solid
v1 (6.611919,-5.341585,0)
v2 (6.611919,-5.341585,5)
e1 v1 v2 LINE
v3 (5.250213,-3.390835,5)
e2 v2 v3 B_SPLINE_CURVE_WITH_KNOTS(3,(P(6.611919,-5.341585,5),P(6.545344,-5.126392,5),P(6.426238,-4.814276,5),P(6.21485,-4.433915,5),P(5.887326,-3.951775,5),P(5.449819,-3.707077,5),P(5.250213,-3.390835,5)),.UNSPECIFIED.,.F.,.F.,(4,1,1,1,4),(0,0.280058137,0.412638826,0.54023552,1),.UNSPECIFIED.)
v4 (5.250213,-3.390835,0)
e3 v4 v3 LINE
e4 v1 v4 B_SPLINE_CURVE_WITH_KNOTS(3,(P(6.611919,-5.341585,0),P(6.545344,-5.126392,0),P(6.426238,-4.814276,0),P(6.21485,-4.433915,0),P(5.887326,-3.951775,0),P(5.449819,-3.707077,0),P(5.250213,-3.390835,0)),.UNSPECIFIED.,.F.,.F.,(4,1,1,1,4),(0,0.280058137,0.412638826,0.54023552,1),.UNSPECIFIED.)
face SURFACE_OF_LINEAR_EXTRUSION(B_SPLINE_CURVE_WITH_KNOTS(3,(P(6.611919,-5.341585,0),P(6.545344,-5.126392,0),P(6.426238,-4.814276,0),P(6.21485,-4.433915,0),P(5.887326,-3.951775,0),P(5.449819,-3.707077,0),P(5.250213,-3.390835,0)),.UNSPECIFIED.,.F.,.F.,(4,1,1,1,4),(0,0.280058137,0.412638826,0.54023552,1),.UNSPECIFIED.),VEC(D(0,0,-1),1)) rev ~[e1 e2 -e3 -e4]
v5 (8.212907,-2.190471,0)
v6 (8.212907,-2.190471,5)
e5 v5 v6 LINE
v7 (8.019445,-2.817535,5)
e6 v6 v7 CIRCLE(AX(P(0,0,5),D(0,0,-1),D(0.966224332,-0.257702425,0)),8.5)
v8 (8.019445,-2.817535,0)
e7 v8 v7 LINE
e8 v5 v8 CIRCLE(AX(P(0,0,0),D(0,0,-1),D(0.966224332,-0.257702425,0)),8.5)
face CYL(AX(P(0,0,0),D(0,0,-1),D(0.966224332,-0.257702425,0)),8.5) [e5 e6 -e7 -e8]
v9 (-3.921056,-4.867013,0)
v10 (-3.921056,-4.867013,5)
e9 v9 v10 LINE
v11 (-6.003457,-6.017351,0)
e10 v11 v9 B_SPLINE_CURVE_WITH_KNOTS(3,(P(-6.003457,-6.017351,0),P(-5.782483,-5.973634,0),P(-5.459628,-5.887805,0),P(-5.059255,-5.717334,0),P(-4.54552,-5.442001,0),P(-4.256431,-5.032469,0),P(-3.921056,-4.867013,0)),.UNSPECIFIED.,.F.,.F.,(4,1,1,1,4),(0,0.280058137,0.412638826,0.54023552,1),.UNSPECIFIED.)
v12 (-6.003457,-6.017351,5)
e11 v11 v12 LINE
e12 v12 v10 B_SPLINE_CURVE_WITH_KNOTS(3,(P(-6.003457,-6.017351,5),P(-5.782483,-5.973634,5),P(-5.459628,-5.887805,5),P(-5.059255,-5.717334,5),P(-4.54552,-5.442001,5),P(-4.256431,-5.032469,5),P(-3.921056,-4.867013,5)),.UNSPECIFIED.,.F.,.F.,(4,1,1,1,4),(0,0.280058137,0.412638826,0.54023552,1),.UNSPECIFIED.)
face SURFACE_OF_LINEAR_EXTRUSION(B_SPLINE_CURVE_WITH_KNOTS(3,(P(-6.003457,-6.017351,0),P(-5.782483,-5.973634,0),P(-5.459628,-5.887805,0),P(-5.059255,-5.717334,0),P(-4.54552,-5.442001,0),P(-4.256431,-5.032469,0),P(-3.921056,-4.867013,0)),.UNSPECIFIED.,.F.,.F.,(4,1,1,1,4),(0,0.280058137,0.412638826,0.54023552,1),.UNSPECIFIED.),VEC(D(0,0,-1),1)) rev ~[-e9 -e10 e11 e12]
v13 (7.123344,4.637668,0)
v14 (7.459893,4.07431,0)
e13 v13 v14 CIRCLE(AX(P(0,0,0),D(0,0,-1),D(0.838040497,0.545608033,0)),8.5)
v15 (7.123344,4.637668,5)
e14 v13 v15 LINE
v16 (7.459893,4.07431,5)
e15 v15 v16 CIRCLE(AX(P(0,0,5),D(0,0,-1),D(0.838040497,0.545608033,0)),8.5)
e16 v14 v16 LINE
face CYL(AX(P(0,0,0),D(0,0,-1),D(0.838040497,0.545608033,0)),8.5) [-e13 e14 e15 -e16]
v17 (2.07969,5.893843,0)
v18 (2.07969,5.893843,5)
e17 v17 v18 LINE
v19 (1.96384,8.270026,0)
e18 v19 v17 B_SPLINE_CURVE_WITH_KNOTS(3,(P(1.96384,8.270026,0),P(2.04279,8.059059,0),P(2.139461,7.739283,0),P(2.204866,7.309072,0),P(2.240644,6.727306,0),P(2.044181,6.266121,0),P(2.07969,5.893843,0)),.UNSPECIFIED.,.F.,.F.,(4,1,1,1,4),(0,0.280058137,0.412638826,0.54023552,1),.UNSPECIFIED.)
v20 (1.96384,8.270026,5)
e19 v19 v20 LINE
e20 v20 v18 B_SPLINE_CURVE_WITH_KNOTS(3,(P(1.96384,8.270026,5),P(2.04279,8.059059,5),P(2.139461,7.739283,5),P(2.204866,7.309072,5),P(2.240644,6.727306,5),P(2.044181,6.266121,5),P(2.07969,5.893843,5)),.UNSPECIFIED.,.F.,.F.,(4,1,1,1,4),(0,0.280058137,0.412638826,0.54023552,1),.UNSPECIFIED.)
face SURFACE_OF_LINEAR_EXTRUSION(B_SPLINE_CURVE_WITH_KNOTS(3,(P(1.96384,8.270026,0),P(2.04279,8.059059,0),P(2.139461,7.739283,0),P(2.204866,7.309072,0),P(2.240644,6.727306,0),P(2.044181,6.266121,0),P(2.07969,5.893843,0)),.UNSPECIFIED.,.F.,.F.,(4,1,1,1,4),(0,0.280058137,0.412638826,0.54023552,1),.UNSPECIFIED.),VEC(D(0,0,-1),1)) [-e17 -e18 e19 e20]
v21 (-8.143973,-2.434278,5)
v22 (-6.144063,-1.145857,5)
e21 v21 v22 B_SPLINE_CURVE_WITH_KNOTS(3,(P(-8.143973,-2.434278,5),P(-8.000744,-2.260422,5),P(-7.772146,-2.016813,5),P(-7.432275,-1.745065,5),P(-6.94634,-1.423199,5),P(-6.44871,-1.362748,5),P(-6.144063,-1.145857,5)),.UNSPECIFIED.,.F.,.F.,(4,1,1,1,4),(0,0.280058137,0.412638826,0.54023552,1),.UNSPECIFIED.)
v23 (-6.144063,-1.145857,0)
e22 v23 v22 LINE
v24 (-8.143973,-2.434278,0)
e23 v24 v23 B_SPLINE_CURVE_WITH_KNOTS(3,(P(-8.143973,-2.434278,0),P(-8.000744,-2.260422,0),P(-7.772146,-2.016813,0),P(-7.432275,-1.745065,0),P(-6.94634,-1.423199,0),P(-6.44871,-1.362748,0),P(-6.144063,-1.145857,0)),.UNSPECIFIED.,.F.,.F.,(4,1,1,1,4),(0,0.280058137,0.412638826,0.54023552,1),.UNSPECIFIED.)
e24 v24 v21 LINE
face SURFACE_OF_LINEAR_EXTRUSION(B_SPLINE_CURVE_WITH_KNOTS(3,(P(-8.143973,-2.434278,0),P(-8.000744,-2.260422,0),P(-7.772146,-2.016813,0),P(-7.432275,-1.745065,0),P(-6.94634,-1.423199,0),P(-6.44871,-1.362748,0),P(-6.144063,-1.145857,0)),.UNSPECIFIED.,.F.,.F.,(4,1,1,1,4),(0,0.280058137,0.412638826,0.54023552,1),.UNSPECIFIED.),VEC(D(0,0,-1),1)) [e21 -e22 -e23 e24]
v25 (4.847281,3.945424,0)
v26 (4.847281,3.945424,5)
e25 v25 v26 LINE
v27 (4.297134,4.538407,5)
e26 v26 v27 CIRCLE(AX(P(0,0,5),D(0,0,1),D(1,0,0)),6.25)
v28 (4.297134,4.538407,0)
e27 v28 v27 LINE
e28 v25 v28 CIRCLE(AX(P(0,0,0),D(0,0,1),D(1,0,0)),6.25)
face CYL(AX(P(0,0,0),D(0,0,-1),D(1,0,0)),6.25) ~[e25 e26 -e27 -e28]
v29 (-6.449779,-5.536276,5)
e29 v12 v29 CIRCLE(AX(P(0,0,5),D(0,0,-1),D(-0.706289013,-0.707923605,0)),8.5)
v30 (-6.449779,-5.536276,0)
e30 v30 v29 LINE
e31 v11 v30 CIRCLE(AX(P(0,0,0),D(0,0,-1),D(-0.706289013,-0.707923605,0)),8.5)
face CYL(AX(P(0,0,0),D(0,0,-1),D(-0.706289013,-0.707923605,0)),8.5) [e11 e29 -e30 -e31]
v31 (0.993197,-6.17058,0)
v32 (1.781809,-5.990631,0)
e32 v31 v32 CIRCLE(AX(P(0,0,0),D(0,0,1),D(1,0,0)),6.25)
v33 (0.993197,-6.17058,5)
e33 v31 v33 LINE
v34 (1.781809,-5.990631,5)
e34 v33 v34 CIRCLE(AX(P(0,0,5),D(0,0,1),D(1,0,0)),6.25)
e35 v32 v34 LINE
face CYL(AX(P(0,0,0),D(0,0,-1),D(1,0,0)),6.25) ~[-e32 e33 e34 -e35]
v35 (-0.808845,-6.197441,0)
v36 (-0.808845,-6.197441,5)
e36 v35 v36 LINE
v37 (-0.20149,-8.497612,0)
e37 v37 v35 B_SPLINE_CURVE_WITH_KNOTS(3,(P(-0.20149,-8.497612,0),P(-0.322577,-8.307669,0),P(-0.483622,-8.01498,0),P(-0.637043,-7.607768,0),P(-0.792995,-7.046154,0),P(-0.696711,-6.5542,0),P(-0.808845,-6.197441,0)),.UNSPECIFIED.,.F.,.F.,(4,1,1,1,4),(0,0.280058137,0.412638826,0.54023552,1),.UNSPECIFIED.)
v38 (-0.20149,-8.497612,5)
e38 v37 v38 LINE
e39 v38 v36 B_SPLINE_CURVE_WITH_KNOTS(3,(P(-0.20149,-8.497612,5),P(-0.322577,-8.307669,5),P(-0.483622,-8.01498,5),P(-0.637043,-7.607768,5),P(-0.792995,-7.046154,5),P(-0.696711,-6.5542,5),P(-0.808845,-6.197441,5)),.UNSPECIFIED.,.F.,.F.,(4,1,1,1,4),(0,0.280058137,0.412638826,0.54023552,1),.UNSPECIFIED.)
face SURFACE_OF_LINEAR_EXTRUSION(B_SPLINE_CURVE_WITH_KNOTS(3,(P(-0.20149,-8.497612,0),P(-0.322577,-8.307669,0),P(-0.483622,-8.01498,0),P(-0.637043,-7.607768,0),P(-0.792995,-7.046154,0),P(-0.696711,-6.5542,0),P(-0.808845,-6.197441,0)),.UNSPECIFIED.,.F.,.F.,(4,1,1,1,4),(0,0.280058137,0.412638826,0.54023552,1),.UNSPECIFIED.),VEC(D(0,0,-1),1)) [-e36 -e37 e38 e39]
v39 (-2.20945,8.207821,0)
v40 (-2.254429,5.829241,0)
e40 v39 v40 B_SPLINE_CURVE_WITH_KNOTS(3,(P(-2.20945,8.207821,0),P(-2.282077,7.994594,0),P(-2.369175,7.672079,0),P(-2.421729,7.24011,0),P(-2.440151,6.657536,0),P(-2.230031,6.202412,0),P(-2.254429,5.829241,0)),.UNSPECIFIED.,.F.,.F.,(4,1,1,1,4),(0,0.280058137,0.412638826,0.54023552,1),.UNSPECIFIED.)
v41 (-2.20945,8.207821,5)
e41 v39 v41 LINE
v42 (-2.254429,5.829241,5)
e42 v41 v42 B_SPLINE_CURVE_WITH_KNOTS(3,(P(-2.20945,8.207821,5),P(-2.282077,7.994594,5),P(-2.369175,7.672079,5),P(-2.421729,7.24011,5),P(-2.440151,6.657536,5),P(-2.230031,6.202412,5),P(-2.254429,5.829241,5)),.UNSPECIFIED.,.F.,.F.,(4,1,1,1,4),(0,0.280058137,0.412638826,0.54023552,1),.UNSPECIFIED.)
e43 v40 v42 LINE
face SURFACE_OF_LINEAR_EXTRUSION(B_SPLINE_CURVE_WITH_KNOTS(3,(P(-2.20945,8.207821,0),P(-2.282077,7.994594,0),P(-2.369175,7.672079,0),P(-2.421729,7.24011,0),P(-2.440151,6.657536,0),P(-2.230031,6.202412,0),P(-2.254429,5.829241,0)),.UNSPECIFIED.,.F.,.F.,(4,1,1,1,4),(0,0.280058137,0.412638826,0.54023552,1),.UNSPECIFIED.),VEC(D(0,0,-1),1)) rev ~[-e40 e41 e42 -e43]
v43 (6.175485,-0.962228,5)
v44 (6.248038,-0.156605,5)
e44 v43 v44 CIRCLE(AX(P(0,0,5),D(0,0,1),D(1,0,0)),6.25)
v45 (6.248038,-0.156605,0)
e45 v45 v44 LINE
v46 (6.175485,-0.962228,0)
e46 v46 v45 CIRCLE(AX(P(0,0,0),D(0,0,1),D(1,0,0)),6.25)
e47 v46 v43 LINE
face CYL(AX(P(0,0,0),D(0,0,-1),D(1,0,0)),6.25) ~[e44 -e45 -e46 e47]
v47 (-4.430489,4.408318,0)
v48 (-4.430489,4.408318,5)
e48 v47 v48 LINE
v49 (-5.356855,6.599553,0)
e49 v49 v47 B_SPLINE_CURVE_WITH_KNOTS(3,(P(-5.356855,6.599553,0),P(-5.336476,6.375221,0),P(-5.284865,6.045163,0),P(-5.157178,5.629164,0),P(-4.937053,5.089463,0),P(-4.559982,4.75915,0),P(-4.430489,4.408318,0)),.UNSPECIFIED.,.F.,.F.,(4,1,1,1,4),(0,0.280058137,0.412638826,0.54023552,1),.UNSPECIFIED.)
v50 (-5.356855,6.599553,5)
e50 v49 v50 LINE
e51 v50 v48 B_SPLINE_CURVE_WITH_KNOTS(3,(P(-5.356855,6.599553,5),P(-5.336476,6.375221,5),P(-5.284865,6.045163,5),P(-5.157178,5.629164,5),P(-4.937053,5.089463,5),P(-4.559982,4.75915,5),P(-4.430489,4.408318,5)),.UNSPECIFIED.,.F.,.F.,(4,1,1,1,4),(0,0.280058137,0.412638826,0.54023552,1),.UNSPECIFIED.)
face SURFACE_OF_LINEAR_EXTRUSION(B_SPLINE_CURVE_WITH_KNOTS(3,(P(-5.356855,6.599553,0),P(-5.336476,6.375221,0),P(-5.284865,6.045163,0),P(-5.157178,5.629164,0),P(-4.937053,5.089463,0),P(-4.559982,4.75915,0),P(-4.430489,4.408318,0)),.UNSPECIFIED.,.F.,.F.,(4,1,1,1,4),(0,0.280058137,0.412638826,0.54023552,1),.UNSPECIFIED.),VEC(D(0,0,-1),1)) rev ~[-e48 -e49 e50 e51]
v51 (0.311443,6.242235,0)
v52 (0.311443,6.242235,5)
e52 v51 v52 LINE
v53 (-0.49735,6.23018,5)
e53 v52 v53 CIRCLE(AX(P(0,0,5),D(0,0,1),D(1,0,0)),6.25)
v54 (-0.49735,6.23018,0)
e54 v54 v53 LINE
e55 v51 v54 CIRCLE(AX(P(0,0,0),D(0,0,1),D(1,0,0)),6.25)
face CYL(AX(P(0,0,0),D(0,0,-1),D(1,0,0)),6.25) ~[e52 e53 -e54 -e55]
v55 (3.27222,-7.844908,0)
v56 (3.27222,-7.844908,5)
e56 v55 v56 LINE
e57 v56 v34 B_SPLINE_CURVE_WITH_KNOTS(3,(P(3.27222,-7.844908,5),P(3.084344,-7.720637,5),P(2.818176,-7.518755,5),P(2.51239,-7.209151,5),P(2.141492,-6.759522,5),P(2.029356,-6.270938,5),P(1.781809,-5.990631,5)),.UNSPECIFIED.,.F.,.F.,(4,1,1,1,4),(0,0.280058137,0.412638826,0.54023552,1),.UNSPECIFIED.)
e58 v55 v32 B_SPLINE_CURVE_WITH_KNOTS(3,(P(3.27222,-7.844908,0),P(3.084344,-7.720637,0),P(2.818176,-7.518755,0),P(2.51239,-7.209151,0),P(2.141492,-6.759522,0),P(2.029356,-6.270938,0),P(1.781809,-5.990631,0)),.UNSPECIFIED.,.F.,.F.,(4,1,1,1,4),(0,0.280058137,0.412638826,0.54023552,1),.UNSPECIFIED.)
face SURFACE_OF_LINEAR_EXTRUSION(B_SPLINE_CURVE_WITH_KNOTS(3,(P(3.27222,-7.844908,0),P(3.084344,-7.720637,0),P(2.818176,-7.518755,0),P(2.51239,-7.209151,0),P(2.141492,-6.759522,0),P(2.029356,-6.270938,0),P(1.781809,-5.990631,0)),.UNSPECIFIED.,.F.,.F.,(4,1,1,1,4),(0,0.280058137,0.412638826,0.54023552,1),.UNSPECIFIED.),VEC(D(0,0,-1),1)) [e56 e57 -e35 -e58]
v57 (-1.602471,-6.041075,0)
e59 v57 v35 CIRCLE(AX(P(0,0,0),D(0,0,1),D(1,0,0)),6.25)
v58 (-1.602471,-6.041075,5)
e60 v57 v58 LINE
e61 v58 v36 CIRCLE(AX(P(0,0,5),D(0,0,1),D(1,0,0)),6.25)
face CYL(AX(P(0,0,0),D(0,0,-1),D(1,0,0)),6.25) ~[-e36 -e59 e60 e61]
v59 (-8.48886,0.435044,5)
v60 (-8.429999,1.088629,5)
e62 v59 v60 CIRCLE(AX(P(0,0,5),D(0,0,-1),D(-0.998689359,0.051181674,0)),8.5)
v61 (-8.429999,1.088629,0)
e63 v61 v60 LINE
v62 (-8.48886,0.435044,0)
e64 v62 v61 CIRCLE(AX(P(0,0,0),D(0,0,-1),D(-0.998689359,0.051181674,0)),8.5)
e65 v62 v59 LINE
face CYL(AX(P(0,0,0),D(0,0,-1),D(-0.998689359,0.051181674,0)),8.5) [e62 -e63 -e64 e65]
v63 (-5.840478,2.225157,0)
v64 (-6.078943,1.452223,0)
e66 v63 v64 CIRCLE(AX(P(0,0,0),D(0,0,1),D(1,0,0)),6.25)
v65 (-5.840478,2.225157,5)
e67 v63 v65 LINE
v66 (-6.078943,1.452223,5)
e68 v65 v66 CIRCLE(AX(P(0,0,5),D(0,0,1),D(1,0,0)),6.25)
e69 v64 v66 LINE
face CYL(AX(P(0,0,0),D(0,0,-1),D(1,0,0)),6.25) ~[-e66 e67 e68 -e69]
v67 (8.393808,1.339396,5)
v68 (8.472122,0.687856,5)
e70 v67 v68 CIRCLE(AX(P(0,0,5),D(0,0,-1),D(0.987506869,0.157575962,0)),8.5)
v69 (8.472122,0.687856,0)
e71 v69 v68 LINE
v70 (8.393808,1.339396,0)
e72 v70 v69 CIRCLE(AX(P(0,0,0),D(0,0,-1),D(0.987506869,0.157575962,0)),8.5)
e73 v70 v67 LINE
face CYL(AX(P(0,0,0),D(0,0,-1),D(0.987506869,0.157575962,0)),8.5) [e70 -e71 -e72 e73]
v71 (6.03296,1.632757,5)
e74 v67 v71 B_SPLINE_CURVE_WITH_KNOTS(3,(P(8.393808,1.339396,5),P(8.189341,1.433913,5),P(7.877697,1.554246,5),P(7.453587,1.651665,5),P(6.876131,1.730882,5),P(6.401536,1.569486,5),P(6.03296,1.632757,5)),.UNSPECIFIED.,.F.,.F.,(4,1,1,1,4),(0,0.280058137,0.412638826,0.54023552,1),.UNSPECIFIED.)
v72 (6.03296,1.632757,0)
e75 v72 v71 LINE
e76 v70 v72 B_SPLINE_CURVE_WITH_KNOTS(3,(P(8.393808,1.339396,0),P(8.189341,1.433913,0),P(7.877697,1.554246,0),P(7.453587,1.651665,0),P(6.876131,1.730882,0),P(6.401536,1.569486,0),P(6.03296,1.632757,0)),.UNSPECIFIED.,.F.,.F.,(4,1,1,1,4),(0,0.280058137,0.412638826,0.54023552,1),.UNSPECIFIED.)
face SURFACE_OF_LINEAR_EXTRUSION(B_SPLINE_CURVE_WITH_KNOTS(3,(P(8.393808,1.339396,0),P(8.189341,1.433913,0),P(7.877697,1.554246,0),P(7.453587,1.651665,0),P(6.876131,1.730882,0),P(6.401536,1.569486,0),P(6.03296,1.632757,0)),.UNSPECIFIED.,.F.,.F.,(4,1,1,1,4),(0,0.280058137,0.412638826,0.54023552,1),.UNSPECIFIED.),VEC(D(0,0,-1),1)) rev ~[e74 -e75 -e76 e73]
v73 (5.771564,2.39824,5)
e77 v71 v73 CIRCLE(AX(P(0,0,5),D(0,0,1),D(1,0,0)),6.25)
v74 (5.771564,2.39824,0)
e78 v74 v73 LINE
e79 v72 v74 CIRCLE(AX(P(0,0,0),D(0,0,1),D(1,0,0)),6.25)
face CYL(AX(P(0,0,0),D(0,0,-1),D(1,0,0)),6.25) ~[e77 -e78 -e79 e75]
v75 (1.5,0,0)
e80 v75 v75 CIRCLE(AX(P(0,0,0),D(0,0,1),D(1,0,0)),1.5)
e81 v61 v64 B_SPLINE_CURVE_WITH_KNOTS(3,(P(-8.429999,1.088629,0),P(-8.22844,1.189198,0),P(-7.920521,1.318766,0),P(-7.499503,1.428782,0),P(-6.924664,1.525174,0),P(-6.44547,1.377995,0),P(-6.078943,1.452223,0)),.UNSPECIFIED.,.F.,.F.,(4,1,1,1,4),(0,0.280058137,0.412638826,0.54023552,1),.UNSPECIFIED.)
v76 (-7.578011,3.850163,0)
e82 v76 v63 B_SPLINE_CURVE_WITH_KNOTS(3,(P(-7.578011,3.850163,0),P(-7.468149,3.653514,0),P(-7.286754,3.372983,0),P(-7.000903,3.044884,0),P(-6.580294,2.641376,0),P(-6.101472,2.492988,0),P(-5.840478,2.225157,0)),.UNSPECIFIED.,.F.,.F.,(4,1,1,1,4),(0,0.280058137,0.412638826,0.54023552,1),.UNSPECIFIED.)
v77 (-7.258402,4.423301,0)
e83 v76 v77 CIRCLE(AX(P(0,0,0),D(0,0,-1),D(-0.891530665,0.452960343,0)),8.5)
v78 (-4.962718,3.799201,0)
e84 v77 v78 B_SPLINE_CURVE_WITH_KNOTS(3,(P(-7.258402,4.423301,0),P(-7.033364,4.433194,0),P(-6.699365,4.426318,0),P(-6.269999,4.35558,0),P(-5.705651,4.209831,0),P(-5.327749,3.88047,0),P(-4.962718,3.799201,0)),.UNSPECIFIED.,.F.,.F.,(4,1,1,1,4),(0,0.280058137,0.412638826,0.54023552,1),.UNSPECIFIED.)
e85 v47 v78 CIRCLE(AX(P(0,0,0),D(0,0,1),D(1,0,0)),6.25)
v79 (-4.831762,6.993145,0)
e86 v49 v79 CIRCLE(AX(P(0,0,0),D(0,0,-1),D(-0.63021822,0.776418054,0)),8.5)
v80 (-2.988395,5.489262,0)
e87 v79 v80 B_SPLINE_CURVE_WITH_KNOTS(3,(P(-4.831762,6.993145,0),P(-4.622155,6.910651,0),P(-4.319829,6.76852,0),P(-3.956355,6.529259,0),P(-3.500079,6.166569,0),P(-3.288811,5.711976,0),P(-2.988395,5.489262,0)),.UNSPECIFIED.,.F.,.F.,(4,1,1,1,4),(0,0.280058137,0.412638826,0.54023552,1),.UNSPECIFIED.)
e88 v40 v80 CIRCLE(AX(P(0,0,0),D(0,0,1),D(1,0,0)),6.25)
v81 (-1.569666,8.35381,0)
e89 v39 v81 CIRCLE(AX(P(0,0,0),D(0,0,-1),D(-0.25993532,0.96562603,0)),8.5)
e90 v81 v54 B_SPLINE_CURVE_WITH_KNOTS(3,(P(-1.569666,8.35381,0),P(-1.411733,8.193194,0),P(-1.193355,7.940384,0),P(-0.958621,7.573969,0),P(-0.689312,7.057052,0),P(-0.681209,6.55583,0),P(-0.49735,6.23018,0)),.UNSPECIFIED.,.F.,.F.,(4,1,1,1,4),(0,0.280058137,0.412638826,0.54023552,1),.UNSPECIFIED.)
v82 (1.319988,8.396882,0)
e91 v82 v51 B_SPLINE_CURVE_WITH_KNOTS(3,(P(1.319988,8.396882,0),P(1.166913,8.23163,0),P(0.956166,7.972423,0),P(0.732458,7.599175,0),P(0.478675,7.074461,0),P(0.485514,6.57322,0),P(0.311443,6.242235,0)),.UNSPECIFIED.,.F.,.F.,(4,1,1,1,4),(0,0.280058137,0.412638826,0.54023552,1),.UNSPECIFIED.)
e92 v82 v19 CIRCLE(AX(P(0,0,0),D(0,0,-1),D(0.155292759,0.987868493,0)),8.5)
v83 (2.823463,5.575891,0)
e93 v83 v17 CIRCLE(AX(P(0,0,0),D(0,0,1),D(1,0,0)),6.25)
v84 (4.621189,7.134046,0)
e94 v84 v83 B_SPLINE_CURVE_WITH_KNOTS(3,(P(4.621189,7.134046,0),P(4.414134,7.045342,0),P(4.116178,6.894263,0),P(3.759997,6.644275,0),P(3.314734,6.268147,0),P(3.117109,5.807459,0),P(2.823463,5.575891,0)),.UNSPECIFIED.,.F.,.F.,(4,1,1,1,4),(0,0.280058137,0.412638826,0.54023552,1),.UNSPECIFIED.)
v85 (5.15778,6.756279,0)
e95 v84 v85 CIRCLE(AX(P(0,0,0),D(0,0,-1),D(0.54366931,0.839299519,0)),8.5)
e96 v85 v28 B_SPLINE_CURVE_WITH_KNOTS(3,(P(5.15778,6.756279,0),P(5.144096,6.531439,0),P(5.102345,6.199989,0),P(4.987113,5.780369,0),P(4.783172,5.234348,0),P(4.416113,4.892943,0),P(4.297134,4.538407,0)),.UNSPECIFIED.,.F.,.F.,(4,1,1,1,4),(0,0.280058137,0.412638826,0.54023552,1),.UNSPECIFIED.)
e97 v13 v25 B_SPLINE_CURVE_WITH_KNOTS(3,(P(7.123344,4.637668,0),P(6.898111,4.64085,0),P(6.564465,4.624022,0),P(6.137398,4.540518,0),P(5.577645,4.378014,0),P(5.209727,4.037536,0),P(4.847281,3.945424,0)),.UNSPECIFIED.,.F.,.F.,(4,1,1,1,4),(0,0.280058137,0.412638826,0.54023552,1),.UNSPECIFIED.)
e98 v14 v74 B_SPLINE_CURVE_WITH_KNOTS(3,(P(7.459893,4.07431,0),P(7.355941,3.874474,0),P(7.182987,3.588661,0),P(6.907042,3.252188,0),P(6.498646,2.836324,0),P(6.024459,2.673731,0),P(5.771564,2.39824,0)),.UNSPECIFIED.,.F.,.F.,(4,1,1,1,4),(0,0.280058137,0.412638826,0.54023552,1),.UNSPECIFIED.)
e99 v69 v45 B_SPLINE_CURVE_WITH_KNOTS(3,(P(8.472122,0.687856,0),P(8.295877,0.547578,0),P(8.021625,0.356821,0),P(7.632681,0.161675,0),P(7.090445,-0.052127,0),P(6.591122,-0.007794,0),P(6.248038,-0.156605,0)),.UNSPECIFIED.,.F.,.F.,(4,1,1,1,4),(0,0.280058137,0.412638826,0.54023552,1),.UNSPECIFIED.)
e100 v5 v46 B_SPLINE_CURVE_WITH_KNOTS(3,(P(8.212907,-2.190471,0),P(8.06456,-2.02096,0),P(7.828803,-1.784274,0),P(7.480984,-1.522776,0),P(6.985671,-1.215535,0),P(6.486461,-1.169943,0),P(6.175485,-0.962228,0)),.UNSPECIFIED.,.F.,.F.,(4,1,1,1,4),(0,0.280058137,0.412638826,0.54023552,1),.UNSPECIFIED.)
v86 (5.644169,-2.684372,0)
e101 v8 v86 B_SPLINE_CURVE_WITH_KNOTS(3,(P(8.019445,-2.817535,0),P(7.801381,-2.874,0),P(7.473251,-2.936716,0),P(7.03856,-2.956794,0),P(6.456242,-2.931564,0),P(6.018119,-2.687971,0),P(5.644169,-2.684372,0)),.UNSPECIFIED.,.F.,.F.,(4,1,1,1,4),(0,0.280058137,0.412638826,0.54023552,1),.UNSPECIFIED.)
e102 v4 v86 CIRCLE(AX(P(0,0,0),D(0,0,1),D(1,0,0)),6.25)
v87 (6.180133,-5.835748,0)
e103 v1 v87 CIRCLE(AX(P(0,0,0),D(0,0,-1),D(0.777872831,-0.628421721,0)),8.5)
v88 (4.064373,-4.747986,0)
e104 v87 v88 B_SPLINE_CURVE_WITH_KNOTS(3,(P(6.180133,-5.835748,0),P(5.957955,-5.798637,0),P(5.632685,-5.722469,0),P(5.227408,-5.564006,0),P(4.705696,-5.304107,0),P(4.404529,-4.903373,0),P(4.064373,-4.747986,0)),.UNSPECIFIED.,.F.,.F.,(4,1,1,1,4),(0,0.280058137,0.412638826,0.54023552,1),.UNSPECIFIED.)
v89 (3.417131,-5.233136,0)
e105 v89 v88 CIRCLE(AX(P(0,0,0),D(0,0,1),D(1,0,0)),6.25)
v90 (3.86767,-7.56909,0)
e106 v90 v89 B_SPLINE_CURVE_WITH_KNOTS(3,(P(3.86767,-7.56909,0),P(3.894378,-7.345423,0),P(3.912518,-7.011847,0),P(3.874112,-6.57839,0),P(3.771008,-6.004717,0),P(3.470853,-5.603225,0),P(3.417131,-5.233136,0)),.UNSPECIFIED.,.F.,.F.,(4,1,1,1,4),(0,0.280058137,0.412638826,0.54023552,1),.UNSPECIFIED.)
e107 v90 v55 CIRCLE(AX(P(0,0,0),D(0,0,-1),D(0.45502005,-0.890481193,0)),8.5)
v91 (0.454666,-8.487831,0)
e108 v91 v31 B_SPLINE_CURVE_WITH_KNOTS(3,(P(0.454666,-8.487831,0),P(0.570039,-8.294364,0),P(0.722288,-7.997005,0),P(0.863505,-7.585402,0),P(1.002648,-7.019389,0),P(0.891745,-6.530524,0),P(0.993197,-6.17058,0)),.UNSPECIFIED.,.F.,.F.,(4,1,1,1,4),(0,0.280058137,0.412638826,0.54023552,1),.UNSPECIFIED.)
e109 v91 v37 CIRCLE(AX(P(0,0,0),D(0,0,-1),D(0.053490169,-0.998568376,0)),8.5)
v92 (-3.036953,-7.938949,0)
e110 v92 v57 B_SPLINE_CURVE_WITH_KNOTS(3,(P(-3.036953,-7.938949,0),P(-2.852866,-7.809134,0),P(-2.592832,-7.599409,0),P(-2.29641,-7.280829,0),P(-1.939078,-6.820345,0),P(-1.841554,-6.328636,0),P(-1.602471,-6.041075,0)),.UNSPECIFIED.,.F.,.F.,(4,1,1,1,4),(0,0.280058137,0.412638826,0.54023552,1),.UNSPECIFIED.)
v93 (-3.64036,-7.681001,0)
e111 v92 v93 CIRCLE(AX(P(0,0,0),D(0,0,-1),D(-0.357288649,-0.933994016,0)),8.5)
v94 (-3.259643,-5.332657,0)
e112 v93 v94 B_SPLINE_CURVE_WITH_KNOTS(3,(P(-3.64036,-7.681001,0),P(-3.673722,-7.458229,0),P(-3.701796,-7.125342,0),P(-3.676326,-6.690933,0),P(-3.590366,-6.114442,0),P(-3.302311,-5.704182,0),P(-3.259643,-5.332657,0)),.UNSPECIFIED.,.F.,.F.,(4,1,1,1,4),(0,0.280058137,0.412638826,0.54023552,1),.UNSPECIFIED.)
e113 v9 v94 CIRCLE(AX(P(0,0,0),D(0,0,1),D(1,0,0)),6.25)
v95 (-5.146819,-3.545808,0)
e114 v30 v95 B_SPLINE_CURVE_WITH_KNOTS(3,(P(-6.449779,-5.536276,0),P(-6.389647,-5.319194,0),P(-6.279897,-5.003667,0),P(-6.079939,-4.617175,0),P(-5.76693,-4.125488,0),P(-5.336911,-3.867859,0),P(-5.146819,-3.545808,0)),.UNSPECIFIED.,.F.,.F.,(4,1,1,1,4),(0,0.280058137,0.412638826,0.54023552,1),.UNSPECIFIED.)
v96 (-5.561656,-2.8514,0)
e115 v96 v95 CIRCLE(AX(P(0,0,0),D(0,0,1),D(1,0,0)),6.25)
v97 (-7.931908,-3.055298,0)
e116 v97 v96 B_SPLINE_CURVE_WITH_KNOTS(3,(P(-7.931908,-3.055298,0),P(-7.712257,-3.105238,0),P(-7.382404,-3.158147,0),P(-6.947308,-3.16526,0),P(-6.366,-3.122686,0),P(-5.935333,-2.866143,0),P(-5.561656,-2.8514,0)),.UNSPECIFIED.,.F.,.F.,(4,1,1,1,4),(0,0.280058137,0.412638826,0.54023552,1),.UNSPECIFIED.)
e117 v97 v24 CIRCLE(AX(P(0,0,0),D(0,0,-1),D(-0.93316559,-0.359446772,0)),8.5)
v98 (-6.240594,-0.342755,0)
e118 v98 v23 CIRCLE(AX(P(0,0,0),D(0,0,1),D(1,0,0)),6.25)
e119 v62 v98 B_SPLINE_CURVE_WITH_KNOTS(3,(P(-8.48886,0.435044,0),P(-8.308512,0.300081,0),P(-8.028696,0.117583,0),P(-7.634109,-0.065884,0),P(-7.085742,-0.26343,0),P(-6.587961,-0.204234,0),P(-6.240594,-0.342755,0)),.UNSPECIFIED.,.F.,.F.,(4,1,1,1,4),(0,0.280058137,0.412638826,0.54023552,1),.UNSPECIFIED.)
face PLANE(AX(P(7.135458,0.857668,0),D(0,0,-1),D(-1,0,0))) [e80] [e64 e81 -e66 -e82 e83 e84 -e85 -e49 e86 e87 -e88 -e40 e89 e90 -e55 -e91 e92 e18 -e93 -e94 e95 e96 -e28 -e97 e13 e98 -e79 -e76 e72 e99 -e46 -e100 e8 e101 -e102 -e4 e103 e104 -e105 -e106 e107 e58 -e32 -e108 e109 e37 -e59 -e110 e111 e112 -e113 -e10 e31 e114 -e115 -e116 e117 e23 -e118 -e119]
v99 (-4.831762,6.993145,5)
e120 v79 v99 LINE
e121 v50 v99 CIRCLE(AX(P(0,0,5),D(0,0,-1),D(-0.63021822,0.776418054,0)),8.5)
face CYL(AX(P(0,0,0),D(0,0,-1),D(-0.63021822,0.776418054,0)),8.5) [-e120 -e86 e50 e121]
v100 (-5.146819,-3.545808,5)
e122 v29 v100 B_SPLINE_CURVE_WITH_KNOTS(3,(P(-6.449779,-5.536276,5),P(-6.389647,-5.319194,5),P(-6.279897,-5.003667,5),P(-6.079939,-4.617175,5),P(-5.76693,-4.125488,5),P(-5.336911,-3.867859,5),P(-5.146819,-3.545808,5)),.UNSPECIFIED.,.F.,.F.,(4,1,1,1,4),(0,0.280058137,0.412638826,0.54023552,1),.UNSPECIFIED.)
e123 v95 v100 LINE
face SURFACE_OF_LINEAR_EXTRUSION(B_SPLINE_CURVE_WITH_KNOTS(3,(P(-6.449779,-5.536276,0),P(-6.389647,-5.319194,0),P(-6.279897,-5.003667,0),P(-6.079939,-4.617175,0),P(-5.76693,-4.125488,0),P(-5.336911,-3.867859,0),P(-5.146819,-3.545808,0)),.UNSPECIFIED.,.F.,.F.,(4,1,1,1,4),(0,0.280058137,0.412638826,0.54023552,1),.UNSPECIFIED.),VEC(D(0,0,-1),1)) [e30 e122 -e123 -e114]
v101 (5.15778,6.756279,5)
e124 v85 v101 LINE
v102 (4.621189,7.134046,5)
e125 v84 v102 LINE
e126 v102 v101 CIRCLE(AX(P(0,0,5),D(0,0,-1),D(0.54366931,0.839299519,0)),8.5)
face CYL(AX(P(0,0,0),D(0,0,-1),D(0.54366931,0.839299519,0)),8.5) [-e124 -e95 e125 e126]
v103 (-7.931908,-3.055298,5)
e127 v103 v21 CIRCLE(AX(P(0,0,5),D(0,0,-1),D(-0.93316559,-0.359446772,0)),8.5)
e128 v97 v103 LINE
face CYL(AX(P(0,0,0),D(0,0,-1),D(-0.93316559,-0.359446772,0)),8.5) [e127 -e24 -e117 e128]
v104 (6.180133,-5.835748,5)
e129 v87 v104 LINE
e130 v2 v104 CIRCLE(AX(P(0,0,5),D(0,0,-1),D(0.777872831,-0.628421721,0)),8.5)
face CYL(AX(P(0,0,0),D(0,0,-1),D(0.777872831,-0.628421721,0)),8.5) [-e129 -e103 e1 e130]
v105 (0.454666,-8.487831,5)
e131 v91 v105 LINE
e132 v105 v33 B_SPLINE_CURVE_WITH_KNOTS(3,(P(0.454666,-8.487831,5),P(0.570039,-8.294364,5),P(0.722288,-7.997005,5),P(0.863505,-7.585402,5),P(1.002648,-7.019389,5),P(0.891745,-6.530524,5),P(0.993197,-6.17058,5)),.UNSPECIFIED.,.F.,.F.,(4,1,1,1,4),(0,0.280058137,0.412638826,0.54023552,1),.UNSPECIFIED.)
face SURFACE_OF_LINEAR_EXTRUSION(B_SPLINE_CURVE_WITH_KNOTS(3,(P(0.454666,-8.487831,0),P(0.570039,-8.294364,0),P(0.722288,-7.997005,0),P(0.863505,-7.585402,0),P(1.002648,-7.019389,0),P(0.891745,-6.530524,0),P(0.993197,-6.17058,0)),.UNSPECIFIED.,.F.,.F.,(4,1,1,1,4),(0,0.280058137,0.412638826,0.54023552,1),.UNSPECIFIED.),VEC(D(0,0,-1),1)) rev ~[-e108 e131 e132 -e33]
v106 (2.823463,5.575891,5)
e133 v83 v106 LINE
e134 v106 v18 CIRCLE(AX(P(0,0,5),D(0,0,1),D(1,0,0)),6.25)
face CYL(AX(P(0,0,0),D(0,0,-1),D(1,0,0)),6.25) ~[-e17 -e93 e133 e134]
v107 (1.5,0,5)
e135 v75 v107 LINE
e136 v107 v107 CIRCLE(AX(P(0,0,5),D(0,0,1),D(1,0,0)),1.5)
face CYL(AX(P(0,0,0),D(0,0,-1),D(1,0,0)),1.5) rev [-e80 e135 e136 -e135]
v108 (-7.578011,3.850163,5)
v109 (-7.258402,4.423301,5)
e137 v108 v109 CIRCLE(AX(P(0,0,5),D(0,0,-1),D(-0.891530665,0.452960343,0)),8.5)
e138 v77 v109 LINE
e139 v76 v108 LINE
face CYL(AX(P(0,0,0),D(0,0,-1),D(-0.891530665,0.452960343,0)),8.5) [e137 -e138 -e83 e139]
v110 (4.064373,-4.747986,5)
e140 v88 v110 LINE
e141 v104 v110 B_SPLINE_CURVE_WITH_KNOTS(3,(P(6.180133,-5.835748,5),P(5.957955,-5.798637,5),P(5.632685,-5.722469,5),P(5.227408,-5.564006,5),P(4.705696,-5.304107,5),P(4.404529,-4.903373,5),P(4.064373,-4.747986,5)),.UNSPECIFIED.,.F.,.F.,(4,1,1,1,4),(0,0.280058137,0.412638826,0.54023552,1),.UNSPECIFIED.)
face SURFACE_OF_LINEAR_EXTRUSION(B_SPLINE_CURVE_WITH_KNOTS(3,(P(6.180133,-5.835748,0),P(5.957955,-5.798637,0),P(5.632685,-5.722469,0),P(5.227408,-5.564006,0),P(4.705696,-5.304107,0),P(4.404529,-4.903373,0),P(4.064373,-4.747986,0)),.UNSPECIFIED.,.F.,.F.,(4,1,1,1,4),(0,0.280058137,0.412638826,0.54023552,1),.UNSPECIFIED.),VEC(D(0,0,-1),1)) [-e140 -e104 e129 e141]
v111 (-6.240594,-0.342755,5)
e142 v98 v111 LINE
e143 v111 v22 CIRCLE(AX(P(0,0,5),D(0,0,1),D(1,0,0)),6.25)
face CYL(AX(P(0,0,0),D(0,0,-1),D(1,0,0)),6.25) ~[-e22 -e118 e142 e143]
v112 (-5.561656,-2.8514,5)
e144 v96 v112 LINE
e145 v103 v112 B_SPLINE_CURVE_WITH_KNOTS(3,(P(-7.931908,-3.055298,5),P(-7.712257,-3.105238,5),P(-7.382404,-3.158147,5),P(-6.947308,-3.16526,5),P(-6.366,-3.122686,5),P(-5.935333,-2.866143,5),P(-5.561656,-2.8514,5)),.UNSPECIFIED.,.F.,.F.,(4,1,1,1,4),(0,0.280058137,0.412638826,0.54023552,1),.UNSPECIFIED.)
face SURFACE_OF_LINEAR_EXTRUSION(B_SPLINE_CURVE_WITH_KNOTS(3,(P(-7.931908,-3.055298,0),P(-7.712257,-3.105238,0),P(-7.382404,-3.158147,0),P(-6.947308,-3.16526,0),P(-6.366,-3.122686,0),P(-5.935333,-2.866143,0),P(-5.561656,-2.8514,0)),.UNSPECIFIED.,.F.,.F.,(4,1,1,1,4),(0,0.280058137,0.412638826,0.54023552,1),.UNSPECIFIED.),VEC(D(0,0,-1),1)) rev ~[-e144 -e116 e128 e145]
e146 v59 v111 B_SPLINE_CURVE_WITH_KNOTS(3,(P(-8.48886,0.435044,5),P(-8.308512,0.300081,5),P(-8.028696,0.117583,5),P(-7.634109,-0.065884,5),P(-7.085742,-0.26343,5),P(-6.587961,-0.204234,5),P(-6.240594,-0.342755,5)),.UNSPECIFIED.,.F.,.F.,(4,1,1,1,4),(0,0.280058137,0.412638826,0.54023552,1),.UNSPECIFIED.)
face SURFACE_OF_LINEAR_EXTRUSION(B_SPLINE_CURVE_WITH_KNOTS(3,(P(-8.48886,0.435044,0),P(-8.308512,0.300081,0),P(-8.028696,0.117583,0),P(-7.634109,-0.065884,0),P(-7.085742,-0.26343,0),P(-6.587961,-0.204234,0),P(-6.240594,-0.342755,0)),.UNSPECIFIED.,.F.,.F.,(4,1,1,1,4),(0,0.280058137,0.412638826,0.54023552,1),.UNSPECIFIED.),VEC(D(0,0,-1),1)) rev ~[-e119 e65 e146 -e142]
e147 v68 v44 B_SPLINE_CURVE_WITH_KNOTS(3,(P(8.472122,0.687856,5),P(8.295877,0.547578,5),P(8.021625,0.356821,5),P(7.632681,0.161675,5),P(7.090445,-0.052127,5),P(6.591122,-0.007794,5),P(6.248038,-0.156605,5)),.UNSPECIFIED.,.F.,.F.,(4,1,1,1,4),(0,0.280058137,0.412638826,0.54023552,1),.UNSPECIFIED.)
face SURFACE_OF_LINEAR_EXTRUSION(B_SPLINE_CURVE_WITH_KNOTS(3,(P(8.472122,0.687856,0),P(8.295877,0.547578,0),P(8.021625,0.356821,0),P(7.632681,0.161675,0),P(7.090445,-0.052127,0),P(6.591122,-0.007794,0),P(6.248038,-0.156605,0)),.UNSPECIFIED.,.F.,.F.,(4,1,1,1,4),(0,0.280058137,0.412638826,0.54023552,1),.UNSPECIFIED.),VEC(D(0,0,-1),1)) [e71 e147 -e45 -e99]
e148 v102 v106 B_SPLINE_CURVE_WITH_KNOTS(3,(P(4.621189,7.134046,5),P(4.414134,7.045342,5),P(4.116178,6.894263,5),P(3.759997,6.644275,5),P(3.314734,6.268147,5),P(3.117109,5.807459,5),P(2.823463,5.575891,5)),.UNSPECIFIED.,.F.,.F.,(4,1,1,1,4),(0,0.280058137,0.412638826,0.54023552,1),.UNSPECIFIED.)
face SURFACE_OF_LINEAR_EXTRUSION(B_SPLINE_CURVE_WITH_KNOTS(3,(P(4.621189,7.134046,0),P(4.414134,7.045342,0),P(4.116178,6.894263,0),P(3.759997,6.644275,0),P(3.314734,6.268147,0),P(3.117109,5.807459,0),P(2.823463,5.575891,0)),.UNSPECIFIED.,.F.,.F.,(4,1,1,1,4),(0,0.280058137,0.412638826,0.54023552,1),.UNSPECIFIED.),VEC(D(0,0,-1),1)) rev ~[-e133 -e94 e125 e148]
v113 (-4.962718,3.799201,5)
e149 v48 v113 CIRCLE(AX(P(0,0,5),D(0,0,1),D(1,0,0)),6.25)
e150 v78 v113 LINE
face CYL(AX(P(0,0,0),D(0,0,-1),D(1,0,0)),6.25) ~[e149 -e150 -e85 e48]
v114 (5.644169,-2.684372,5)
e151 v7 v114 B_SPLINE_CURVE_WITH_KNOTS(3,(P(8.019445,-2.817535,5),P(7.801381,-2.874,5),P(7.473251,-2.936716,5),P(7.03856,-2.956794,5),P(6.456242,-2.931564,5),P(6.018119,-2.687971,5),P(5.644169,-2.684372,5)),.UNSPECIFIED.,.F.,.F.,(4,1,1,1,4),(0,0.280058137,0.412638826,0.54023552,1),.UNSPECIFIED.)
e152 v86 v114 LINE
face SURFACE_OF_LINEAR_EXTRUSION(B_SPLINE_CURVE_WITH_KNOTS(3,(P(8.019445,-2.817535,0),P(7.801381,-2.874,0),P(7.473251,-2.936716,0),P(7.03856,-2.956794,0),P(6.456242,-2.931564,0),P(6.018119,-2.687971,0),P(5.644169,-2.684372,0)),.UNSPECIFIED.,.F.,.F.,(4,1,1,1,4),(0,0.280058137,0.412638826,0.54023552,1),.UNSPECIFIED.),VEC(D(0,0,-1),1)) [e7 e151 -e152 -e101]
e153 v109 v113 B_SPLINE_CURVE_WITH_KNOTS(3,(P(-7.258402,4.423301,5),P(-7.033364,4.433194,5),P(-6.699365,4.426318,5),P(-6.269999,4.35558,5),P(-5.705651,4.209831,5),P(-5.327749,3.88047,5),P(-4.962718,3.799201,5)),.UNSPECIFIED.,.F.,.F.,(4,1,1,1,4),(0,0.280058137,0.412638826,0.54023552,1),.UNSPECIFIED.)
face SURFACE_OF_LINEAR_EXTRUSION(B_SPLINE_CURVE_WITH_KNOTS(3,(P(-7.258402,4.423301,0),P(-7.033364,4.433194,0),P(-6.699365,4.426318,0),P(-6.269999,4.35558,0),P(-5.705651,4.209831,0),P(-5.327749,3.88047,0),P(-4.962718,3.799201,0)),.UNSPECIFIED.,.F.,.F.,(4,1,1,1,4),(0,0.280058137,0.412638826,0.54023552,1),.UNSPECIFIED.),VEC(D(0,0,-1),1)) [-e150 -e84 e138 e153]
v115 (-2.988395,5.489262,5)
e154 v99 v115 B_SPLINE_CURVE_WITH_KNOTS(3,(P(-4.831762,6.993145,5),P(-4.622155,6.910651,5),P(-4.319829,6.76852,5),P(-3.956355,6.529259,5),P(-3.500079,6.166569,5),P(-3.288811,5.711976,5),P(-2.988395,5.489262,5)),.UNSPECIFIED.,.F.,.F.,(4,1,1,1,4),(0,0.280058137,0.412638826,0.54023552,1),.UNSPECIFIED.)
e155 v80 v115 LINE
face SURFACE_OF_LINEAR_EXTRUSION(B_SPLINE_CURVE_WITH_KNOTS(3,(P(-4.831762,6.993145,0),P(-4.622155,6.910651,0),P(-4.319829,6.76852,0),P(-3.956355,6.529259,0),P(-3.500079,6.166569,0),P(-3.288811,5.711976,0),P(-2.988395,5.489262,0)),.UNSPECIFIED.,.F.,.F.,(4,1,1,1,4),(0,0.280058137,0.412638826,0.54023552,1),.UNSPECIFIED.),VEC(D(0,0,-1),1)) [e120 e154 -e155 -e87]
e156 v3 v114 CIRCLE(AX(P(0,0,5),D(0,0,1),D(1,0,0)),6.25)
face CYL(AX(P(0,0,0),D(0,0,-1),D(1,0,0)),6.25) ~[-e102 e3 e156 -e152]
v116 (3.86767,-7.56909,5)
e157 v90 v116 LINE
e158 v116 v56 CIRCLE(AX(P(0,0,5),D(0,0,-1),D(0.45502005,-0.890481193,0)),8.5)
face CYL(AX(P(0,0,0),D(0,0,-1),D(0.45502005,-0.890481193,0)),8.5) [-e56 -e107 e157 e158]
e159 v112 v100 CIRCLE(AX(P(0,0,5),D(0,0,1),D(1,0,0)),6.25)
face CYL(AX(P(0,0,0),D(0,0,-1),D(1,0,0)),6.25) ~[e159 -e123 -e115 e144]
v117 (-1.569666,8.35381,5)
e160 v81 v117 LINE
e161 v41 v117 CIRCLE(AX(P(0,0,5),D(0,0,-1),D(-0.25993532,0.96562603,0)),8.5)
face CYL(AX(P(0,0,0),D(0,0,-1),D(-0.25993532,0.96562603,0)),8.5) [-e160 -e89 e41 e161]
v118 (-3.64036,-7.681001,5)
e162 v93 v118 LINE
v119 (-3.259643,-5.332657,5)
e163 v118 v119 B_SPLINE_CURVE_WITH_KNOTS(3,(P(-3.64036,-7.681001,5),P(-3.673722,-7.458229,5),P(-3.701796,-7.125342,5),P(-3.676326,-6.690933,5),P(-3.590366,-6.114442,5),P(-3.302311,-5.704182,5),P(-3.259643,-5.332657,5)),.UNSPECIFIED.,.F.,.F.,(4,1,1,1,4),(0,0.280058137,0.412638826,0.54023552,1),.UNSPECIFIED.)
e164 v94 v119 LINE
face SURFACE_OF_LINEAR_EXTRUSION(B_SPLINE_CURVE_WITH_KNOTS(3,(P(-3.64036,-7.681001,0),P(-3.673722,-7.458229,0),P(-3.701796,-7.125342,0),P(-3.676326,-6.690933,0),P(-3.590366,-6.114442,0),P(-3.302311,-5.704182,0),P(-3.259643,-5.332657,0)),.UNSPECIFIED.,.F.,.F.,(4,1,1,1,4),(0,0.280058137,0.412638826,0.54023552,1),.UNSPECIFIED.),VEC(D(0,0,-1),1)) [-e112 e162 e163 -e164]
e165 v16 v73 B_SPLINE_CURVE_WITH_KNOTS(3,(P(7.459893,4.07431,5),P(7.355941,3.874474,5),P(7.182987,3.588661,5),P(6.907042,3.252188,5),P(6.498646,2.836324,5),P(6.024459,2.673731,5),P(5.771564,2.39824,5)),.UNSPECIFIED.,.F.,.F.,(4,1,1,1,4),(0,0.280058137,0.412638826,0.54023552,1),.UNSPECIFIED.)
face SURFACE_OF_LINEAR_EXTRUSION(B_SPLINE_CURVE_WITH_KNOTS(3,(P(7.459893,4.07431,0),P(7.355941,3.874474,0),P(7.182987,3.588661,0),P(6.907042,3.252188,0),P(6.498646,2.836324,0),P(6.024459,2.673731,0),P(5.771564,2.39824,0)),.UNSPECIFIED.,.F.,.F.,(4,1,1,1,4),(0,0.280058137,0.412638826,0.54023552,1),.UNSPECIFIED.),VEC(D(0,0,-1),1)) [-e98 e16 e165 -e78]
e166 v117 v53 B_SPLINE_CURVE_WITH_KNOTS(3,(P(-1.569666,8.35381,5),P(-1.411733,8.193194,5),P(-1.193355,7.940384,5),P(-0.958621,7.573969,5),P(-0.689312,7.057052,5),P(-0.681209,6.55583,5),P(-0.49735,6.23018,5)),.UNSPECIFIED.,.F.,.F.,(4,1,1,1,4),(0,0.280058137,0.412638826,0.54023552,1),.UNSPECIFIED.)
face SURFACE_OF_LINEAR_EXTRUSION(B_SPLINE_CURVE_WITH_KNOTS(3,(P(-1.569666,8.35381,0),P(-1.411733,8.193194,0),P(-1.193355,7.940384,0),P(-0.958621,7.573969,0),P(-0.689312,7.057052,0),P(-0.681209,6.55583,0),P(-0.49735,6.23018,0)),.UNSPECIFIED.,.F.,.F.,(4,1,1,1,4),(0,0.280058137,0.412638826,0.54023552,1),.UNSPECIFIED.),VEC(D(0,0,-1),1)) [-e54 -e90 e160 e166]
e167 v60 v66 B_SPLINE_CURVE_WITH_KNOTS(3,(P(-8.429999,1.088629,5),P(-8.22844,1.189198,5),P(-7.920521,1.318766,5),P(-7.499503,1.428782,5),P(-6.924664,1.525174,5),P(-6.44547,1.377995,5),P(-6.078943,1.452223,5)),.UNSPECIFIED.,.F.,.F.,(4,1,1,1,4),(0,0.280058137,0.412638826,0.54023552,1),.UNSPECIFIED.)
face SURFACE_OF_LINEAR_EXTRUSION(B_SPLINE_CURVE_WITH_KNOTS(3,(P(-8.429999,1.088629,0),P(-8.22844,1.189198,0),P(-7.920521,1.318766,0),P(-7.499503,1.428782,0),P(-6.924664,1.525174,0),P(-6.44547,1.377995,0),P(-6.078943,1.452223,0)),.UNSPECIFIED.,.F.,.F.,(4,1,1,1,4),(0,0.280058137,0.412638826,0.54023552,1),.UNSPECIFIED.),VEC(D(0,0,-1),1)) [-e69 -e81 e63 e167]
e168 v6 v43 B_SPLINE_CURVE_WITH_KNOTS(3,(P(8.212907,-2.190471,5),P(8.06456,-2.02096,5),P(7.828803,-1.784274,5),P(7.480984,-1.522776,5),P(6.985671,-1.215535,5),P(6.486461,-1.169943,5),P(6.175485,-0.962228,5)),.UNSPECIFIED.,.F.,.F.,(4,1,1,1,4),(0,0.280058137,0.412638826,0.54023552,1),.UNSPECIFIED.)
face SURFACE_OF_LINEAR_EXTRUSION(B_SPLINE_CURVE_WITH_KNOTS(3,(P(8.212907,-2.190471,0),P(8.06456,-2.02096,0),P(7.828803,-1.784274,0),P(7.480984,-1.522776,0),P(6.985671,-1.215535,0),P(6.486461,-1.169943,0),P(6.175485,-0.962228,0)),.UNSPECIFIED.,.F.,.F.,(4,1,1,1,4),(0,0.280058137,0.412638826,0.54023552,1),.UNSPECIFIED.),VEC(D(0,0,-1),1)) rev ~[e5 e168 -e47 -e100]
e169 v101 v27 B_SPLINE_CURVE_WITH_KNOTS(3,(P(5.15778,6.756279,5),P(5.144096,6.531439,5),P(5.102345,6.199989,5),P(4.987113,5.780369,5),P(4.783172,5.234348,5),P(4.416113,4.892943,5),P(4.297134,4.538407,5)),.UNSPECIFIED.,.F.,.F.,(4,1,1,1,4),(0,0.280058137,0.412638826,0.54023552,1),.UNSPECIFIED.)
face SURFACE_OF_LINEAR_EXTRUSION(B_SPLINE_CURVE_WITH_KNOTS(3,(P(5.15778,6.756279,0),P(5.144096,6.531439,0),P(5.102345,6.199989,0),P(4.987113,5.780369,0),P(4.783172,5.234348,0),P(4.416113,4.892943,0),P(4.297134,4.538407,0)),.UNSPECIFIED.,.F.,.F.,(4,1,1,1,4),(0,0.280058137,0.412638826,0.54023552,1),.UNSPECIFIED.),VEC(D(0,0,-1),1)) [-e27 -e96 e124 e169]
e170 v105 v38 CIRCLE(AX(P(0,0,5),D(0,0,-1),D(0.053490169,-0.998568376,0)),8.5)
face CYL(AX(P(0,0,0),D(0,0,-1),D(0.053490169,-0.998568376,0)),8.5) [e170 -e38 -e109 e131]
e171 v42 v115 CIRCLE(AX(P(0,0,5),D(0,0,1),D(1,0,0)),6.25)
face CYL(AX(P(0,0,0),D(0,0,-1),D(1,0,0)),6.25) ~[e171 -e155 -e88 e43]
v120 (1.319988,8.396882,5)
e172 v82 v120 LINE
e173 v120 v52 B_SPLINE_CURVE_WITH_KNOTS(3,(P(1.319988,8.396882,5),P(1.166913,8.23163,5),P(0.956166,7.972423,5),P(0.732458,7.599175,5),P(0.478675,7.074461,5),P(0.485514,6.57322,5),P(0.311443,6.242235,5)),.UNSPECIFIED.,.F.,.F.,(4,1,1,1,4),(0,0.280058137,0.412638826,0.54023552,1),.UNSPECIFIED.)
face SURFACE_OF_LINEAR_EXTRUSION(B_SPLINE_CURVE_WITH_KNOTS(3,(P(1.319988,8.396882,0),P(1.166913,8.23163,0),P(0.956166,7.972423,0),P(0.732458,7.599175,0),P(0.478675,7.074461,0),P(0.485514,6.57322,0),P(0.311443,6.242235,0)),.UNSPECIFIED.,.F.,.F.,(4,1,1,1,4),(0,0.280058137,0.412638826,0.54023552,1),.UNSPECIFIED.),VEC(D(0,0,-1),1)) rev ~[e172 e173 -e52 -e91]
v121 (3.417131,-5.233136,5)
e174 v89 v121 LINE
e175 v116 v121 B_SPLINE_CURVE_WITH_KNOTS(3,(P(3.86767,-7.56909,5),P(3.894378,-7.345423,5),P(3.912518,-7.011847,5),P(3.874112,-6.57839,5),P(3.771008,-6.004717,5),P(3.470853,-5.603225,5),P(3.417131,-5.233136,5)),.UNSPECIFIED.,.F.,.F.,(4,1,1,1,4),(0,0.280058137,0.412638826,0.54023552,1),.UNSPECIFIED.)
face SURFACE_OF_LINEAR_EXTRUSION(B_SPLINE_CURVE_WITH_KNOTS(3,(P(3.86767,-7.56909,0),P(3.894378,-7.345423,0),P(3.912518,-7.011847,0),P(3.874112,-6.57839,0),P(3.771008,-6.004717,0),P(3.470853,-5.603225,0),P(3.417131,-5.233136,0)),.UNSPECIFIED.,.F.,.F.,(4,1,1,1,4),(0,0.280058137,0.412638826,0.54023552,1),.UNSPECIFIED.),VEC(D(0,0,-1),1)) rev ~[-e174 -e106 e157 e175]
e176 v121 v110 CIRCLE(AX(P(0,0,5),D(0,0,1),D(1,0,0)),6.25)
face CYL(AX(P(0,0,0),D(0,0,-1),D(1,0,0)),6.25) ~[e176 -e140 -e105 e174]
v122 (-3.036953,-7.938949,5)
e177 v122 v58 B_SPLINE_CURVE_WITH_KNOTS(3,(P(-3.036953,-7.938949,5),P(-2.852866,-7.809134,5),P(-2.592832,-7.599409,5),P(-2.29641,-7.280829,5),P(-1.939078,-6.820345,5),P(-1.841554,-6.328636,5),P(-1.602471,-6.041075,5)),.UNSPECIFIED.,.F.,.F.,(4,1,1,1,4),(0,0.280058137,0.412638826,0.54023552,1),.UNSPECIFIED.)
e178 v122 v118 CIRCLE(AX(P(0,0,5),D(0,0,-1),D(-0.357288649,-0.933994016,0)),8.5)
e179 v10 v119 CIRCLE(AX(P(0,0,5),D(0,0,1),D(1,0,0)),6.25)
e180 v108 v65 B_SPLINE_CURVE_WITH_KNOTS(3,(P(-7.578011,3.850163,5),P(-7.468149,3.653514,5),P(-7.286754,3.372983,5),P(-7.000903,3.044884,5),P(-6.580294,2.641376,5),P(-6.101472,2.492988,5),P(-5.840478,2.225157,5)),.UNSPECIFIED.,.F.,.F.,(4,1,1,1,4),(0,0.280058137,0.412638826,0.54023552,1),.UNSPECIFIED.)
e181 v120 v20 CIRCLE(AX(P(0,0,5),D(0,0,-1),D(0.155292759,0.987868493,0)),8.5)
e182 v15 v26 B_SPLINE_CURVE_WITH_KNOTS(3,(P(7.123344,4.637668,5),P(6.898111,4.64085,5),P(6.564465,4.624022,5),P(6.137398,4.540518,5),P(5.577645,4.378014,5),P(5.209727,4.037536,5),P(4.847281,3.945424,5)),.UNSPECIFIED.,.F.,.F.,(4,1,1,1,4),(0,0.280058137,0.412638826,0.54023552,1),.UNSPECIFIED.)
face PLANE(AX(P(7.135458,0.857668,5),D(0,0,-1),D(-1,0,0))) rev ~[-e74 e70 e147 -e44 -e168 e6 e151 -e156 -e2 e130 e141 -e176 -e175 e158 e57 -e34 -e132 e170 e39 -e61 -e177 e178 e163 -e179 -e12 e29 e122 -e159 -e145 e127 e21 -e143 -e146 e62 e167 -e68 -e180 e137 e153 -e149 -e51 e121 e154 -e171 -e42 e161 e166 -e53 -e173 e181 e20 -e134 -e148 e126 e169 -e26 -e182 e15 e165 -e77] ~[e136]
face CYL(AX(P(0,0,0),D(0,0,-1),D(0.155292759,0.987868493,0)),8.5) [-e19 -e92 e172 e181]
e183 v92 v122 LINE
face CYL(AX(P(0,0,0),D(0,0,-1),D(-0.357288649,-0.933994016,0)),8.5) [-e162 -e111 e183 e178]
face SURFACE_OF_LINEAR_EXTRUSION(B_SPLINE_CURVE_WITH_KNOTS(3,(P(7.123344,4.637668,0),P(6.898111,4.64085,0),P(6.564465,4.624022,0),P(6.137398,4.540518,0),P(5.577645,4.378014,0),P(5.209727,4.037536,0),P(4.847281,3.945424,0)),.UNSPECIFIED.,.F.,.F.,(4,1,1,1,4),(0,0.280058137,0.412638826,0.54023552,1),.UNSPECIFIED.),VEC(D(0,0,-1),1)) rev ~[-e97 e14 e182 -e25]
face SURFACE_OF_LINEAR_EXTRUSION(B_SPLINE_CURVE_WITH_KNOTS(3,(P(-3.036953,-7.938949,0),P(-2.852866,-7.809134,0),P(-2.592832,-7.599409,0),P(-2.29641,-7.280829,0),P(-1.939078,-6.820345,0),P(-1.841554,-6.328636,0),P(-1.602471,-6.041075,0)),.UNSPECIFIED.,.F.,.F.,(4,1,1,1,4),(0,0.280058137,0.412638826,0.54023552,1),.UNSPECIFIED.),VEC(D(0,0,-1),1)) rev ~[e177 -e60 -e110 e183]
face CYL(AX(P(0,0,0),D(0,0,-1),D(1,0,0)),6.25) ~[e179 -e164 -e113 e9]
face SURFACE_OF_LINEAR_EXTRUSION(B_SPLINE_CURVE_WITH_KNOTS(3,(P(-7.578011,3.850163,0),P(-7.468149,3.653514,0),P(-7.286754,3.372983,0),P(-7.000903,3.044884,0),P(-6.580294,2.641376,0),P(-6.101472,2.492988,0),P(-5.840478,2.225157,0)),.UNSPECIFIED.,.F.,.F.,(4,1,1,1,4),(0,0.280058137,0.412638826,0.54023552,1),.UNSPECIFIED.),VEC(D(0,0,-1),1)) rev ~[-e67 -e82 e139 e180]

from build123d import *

# Parameters (mm, degrees)
SKETCH_1_R               = 6.25
SKETCH_1_R_2             = 1.5
EXTRUDE_1_DEPTH          = 5
EXTRUDE_2_DEPTH          = 5
PATTERN_CIRCULAR_1_COUNT = 15


with BuildPart() as part:
    # 草图1 → 凸台-拉伸1 (new body)
    with BuildSketch(Plane.XY):
        Circle(SKETCH_1_R)
        Circle(SKETCH_1_R_2, mode=Mode.SUBTRACT)
    extrude(amount=EXTRUDE_1_DEPTH)

    # 草图2 → 凸台-拉伸2 (add)
    with BuildSketch(Plane.XY):
        with BuildLine():
            ThreePointArc((8.393808384, 1.339395689), (8.439255267, 1.014381847), (8.47212218, 0.687855917))
            add(Edge.make_bspline(
                [(8.47212218, 0.687855917), (8.295877015, 0.547577731), (8.021625033, 0.356821182), (7.632681348, 0.161674714), (7.090445059, -0.052126887), (6.591121859, -0.007793761), (6.24803767, -0.156605476)],
                knots=[0, 0, 0, 0, 0.280058137, 0.412638826, 0.54023552, 1, 1, 1, 1], degree=3))
            ThreePointArc((6.24803767, -0.156605476), (6.205334755, 0.745869005), (6.032959808, 1.632757163))
            add(Edge.make_bspline(
                [(8.393808384, 1.339395689), (8.189341262, 1.433913008), (7.877696934, 1.554245976), (7.453587446, 1.651665056), (6.876130931, 1.730881788), (6.401535987, 1.569485621), (6.032959808, 1.632757163)],
                knots=[0, 0, 0, 0, 0.280058137, 0.412638826, 0.54023552, 1, 1, 1, 1], degree=3))
        make_face()
    extrude_2 = extrude(amount=EXTRUDE_2_DEPTH)

    # 阵列(圆周)1: 凸台-拉伸2 ×15 about axis
    pattern_circular_1_axis = Axis((0, 0, 5), (0, 0, -1))
    for i in range(1, PATTERN_CIRCULAR_1_COUNT):
        add(extrude_2.rotate(pattern_circular_1_axis, i * 360 / PATTERN_CIRCULAR_1_COUNT))


solid = part.part
